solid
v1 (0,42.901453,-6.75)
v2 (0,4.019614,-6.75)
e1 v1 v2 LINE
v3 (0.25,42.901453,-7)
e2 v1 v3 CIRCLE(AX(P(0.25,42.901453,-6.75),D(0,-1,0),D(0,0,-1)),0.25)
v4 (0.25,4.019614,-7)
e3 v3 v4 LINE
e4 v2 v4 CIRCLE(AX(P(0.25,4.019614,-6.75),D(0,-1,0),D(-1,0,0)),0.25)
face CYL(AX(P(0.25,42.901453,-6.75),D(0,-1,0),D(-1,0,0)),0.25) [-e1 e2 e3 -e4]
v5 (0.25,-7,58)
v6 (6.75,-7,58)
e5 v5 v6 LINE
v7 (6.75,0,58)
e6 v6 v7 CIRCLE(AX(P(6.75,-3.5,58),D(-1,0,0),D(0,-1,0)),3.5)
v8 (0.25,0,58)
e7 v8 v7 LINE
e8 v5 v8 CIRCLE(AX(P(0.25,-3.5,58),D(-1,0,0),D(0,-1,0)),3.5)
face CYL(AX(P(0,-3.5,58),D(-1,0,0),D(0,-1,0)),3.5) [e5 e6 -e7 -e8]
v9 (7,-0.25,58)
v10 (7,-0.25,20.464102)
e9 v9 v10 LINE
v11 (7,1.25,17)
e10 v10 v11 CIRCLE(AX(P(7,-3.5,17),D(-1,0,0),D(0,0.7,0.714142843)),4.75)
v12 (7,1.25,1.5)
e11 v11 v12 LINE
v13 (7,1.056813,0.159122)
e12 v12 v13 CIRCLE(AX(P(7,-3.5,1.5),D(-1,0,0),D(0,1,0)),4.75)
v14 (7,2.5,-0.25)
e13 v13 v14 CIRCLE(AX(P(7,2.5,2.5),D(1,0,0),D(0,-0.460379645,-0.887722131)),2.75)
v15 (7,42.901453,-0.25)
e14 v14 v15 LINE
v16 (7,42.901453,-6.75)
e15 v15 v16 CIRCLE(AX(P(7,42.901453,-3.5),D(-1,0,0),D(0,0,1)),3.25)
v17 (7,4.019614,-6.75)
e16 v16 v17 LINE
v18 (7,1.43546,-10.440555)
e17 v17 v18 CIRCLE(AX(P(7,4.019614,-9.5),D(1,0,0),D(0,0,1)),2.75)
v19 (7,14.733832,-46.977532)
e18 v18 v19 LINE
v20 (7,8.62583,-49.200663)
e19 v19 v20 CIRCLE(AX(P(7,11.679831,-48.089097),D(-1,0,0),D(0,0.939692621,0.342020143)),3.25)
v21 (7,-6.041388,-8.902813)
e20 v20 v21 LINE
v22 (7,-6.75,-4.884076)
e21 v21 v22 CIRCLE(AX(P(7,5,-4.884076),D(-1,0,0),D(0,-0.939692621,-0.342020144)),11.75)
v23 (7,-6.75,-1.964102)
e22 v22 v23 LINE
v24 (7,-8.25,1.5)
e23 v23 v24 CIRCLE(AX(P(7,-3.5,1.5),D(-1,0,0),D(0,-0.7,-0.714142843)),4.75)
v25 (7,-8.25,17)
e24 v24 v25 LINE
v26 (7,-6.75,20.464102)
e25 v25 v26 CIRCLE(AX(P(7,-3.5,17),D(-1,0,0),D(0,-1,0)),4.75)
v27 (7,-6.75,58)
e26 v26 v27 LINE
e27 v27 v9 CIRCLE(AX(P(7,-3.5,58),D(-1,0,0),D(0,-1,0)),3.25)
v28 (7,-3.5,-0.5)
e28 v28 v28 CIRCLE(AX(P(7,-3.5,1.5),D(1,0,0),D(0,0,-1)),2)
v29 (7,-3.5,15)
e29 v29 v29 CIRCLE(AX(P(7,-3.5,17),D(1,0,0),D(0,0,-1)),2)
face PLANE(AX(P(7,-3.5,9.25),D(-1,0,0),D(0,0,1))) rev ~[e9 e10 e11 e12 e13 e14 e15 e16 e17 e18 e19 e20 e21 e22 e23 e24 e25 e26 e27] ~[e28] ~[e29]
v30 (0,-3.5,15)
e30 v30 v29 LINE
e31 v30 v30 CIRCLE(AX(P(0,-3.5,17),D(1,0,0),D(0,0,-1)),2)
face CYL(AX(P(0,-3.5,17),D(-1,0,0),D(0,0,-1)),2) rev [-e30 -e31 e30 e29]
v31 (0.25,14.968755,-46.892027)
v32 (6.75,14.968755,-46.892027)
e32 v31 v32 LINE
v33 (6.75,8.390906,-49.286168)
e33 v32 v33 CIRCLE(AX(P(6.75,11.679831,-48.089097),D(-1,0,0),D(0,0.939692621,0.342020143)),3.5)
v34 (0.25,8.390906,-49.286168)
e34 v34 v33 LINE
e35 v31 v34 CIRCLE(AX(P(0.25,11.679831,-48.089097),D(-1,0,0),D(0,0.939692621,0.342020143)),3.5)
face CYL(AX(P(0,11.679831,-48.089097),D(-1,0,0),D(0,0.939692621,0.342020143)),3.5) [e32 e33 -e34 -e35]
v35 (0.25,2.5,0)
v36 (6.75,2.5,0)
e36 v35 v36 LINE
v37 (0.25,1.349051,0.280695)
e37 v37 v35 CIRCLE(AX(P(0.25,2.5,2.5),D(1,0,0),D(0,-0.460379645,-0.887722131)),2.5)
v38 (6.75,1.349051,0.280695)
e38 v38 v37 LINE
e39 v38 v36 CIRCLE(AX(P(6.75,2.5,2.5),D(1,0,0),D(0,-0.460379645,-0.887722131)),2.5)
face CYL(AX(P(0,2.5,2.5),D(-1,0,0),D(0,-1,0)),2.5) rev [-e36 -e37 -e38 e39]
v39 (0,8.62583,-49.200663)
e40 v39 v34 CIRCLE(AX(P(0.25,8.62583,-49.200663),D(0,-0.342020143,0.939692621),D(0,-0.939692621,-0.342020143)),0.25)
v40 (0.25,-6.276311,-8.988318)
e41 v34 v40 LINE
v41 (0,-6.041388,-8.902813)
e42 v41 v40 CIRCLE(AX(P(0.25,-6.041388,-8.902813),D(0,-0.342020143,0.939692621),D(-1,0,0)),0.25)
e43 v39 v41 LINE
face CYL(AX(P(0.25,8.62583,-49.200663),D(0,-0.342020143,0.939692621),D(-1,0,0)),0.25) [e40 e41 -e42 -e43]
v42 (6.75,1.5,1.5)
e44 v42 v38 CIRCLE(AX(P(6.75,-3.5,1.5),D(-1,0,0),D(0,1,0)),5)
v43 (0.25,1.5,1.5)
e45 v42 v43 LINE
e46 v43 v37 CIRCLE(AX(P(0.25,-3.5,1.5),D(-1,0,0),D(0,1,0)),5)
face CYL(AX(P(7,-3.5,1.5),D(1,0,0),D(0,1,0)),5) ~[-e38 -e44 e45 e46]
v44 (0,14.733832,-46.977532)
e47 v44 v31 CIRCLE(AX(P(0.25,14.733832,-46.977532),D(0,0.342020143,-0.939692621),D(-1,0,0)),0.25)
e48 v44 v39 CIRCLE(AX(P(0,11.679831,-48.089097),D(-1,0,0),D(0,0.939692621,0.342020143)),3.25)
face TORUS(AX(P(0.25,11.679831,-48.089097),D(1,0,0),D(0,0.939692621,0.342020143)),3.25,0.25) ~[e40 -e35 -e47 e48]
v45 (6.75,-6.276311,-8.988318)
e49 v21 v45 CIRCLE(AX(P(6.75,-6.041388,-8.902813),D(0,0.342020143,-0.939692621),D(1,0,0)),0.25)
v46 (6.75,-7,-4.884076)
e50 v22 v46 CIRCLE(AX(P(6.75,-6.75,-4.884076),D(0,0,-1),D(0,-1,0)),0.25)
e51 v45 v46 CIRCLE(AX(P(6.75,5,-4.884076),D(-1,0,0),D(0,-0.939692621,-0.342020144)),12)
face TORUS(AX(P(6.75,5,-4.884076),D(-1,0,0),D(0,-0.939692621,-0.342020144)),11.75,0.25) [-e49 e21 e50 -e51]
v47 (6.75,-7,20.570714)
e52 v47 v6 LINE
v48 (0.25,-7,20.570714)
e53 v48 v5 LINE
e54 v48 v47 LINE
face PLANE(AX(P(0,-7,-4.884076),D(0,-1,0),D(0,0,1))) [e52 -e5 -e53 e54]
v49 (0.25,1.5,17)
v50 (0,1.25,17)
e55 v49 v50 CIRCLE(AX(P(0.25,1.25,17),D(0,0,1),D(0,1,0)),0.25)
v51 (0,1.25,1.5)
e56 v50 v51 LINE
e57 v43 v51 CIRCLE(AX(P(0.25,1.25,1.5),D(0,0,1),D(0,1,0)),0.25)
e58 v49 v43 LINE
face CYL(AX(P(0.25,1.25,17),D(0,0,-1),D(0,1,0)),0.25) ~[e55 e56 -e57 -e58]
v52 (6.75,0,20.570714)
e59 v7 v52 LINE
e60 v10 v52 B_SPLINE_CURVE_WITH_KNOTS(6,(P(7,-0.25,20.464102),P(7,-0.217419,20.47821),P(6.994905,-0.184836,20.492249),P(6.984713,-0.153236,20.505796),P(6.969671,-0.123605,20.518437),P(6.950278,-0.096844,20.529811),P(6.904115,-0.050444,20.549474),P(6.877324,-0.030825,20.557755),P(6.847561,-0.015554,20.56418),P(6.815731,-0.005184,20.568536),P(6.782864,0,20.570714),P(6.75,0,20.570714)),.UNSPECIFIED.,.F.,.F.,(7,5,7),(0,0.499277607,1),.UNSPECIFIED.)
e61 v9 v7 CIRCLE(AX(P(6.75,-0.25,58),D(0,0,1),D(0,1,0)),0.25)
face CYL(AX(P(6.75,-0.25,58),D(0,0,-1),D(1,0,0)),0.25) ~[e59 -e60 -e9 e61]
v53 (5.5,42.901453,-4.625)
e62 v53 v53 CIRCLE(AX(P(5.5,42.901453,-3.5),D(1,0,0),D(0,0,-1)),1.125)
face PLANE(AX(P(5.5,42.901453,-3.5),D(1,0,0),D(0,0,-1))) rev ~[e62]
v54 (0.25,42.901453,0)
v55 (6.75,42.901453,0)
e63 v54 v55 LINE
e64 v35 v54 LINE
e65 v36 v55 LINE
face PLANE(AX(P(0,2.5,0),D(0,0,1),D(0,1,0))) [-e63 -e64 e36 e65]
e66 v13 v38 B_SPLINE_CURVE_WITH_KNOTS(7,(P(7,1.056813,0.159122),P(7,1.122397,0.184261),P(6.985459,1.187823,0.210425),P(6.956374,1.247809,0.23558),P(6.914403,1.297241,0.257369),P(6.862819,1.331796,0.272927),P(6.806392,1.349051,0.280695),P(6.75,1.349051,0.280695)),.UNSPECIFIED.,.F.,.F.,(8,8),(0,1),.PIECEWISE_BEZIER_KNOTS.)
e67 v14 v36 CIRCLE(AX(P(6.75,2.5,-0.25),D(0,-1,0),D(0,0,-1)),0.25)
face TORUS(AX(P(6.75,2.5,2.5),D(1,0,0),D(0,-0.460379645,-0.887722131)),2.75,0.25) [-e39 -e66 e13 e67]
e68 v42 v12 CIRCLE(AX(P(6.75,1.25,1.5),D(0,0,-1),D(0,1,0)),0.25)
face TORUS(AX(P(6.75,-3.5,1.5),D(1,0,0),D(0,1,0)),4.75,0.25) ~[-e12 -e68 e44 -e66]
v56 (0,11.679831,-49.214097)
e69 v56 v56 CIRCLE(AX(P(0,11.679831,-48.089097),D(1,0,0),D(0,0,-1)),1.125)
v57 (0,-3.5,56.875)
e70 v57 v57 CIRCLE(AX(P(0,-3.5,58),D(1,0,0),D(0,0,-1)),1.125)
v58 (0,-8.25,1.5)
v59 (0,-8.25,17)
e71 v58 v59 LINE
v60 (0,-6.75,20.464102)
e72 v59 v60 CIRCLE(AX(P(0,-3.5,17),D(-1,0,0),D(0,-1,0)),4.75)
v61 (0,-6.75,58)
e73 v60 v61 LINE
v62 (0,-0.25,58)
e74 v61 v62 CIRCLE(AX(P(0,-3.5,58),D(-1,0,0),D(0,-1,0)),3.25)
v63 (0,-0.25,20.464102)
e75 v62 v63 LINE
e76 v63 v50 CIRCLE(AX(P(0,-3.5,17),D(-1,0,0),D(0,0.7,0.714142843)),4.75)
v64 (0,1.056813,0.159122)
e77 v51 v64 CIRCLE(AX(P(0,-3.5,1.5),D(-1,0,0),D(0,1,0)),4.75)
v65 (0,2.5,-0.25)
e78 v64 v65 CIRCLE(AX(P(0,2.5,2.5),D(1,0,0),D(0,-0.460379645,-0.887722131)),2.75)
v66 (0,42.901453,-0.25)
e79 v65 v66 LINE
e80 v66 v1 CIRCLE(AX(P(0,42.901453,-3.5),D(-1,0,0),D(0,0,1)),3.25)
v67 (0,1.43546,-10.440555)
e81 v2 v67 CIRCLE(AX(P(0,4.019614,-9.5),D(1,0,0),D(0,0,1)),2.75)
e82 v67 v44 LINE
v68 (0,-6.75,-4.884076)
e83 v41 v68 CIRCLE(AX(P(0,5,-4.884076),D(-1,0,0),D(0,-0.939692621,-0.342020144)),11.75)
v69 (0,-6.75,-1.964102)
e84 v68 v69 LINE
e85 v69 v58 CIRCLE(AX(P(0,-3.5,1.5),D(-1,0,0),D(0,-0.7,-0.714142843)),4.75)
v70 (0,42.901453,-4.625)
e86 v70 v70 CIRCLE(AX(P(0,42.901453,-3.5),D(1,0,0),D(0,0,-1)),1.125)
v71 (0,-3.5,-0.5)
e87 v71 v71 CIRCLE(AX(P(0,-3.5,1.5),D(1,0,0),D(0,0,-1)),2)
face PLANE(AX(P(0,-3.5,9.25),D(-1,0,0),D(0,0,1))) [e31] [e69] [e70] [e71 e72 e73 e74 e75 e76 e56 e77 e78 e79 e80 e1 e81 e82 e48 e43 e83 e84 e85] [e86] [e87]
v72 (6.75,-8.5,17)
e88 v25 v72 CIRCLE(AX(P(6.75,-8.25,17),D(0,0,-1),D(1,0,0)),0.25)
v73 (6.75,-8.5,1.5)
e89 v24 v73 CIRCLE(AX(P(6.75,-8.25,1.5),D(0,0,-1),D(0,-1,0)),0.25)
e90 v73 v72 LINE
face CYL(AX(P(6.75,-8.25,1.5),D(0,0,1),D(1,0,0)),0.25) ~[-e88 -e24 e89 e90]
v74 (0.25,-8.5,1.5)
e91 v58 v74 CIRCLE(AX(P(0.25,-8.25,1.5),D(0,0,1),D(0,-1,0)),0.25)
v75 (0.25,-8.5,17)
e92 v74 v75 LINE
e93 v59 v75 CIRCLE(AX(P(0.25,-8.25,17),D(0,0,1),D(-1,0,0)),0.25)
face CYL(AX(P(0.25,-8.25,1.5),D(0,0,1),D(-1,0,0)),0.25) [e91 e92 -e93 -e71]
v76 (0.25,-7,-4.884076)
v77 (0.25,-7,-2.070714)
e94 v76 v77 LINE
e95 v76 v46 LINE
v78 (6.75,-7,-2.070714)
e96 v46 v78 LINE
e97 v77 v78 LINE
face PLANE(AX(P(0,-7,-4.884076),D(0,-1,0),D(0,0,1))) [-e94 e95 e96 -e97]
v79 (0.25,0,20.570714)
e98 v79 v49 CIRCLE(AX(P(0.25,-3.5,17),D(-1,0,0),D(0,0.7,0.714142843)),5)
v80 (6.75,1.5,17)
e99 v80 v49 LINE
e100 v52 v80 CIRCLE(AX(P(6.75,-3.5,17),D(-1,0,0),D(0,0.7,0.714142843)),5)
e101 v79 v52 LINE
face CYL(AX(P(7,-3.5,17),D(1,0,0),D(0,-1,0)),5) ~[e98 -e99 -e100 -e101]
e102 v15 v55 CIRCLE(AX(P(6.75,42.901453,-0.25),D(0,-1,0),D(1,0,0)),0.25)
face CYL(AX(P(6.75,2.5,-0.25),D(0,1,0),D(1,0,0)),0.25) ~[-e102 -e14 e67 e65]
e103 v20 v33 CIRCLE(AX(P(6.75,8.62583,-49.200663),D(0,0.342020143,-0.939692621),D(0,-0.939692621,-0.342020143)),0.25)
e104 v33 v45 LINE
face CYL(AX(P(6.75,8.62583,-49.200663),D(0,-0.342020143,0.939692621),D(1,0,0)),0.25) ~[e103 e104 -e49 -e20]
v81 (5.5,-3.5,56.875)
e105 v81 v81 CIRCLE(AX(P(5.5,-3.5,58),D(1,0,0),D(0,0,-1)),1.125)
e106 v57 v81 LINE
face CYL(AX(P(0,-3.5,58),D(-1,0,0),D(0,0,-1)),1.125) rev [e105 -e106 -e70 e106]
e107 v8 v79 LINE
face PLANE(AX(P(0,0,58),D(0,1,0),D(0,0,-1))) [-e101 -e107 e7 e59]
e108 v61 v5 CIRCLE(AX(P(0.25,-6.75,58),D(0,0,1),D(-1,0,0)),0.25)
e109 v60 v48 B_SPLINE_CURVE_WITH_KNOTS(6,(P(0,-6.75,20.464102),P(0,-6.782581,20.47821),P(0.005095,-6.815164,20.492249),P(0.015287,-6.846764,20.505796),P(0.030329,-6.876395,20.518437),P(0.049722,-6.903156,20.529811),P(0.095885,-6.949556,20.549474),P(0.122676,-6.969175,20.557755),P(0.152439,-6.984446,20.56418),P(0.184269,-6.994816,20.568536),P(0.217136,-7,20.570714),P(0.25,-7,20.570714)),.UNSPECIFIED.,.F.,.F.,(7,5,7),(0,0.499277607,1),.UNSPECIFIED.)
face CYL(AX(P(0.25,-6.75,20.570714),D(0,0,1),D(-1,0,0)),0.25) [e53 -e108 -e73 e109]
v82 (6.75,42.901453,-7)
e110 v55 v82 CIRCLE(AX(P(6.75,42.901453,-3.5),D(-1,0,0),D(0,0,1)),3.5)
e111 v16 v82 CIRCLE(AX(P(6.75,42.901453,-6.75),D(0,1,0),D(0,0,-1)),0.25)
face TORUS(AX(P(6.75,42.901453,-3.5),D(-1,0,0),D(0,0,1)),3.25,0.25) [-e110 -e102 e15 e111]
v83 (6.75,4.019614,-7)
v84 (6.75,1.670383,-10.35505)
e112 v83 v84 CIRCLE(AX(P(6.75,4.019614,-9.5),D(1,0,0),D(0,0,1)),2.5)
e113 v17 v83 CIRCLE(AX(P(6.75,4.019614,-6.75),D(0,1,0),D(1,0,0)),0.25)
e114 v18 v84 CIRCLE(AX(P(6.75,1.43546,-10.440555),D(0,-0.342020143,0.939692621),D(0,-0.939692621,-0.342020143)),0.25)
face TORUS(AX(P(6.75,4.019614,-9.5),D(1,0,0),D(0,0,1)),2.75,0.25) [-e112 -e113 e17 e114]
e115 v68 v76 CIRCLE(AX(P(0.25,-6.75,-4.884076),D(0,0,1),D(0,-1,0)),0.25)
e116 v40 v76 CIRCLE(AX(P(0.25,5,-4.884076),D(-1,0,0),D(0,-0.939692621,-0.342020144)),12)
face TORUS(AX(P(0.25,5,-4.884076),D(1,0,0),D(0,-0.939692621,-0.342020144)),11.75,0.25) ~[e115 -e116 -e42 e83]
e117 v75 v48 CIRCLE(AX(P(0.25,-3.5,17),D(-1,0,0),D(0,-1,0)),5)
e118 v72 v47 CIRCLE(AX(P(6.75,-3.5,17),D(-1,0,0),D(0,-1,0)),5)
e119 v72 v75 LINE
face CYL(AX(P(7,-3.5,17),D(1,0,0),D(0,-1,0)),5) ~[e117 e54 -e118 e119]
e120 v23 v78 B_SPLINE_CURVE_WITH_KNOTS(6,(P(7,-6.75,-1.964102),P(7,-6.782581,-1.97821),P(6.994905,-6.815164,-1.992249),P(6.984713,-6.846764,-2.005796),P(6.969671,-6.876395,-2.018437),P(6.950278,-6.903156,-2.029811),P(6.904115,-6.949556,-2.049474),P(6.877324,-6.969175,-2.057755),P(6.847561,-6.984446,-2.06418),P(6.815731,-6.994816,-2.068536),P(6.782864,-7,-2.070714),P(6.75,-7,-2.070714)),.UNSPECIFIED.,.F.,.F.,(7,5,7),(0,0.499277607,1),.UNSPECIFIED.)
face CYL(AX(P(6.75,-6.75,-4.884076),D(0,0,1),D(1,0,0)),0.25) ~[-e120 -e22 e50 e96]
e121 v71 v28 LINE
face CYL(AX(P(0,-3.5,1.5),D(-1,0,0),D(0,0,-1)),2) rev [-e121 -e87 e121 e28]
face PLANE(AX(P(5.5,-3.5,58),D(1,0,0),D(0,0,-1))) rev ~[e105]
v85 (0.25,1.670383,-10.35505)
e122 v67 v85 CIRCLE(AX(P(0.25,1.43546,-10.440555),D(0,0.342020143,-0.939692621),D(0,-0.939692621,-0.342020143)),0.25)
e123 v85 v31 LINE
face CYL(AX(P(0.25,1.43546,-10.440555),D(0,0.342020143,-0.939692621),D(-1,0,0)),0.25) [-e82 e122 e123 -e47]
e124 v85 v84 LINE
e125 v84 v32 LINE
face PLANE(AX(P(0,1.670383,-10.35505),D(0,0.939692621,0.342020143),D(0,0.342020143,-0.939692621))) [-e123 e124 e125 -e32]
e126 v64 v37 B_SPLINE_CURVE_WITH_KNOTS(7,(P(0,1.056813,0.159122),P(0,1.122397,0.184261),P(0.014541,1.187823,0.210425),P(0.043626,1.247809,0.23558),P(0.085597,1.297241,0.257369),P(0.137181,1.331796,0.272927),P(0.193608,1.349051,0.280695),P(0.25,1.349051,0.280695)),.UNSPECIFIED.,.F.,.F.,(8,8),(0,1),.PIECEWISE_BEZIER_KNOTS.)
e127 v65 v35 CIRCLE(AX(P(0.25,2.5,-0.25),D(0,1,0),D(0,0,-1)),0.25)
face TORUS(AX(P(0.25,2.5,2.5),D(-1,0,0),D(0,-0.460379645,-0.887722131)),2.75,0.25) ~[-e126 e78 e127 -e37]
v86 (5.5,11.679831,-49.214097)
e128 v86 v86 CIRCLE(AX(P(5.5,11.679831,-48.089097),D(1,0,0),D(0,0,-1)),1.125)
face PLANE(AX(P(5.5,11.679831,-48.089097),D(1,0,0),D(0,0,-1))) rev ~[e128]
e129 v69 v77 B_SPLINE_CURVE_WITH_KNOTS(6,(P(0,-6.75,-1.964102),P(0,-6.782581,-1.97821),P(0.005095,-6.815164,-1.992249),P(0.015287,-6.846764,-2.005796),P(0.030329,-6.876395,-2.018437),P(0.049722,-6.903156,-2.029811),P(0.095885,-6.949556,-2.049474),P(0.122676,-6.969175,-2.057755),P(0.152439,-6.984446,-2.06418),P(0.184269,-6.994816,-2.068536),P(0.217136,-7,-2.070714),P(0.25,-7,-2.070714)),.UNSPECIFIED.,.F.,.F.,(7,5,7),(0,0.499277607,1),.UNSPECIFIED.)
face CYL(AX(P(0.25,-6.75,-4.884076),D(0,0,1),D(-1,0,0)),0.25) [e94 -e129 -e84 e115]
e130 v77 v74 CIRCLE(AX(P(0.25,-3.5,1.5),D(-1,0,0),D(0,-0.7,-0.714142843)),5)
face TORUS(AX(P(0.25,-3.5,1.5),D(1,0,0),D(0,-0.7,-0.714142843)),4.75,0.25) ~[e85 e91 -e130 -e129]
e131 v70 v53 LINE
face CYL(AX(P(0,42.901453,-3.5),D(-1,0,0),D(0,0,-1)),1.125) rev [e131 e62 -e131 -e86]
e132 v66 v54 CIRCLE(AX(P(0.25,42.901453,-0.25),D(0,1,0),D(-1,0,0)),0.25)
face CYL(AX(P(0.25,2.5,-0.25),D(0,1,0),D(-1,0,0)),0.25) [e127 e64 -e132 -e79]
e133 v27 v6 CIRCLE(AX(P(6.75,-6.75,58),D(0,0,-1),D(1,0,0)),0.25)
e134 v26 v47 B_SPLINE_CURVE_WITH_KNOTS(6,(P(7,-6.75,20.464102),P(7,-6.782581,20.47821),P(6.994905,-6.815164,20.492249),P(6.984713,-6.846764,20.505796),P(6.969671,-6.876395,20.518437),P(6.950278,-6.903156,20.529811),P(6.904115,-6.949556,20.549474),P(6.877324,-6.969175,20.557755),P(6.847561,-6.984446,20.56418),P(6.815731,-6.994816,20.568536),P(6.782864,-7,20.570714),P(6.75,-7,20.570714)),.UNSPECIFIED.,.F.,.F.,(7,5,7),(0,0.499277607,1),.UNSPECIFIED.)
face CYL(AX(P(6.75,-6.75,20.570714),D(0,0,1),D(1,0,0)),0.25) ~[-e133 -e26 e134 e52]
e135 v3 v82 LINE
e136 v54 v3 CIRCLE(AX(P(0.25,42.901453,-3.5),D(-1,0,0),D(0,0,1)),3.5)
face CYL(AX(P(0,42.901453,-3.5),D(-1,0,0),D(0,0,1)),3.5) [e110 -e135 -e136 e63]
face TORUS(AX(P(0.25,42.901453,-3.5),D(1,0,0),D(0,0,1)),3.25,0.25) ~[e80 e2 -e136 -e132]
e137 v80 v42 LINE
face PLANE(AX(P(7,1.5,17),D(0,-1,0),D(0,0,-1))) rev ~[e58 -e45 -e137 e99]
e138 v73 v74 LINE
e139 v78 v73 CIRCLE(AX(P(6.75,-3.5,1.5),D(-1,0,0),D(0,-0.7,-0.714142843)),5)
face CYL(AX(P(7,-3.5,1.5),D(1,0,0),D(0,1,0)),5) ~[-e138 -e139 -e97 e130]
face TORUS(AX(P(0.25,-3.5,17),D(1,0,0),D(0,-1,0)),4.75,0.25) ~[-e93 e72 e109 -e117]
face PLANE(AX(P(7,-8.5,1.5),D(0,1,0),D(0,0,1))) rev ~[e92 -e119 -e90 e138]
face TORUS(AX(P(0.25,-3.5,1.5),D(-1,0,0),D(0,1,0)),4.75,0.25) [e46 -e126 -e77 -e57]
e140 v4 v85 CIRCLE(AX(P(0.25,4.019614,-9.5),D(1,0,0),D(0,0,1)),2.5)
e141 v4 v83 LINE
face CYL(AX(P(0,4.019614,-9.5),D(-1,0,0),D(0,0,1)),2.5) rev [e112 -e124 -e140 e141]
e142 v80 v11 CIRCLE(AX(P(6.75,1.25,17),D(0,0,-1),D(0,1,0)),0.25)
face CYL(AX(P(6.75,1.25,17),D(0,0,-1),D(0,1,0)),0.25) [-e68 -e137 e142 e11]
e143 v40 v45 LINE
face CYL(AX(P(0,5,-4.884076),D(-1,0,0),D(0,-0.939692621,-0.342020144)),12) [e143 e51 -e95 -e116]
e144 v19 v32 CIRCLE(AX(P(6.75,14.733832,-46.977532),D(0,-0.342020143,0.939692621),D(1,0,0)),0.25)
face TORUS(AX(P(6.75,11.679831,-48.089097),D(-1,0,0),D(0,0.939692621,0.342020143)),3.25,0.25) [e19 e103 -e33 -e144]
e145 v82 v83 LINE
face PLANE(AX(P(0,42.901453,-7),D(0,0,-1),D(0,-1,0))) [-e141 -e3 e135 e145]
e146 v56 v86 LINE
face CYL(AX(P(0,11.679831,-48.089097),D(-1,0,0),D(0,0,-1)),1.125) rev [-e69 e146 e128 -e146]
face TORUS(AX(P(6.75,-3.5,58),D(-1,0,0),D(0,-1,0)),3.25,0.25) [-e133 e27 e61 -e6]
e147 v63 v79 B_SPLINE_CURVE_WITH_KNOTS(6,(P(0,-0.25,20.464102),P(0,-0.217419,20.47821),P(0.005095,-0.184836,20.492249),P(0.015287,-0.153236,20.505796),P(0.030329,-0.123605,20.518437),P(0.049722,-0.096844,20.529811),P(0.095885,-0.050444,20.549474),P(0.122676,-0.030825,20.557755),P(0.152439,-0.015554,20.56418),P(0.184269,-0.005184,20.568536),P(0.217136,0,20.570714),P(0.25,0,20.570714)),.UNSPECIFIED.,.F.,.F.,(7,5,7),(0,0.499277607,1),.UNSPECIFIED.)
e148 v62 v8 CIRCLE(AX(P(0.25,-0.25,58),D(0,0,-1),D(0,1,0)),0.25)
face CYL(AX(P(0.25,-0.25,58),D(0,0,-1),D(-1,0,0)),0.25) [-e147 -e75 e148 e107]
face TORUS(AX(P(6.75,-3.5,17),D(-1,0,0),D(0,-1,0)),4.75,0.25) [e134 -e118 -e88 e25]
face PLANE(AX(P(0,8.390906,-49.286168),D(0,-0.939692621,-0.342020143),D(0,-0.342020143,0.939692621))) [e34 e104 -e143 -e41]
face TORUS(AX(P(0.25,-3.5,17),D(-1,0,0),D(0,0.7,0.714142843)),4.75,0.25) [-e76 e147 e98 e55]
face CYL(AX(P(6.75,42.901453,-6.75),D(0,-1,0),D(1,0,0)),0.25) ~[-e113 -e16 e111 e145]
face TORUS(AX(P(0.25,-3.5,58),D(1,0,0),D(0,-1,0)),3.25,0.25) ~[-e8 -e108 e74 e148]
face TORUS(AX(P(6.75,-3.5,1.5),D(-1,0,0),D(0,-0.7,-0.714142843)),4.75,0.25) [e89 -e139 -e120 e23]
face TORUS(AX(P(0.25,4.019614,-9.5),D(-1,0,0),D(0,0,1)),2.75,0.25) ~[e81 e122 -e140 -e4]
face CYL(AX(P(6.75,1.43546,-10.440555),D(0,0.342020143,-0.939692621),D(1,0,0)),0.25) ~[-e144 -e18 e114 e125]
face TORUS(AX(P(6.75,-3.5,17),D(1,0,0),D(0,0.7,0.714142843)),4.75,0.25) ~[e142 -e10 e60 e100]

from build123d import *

# Parameters (mm, degrees)
BOSS_EXTRUDE1_DEPTH = 7
BOSS_EXTRUDE2_DEPTH = 7
FILLET1_R           = 0.25
SKETCH4_R           = 2
CUT_EXTRUDE2_DEPTH  = 7
SKETCH3_R           = 1.125
CUT_EXTRUDE1_DEPTH  = 5.5


with BuildPart() as part:
    # Sketch1 → Boss-Extrude1 (new body)
    with BuildSketch(Plane(origin=(0, 0, 0), x_dir=(0, 0, -1), z_dir=(1, 0, 0))):
        with BuildLine():
            Line((-58, 0), (-2.5, 0))
            ThreePointArc((-2.5, 0), (-0.732233047, 0.732233047), (0, 2.5))
            Line((0, 2.5), (0, 42.901452767))
            ThreePointArc((0, 42.901452767), (3.5, 46.401452767), (7, 42.901452767))
            Line((7, 42.901452767), (7, 4.019614424))
            ThreePointArc((7, 4.019614424), (8.066058909, 1.971734313), (10.355050358, 1.670382872))
            Line((10.355050358, 1.670382872), (46.892026932, 14.968754795))
            ThreePointArc((46.892026932, 14.968754795), (51.378021606, 12.876901124), (49.286167935, 8.39090645))
            Line((49.286167935, 8.39090645), (8.988317951, -6.276311449))
            ThreePointArc((8.988317951, -6.276311449), (6.967854364, -6.817693036), (4.884076231, -7))
            Line((4.884076231, -7), (-58, -7))
            ThreePointArc((-58, -7), (-61.5, -3.5), (-58, 0))
        make_face()
    extrude(amount=BOSS_EXTRUDE1_DEPTH)

    # Sketch2 → Boss-Extrude2 (add)
    with BuildSketch(Plane(origin=(7, 0, 0), x_dir=(0, 0, -1), z_dir=(1, 0, 0))):
        with BuildLine():
            Line((-17, 1.5), (-1.5, 1.5))
            ThreePointArc((-1.5, 1.5), (3.5, -3.5), (-1.5, -8.5))
            Line((-1.5, -8.5), (-17, -8.5))
            ThreePointArc((-17, -8.5), (-22, -3.5), (-17, 1.5))
        make_face()
    extrude(amount=-BOSS_EXTRUDE2_DEPTH)

    # Fillet1
    fillet1_edges = [part.edges().sort_by_distance(p)[0] for p in [
        (7, -6.817693036, -6.967854364),
        (0, 1.907658596, 0.071187191),
        (0, 22.700726384, 0),
        (0, 46.401452767, -3.5),
        (0, 23.460533596, -7),
        (0, 1.971734313, -8.066058909),
        (7, 1.0572975, -29.137242943),
        (0, 8.319568834, -28.623538645),
        (0, 12.876901124, -51.378021606),
        (0, 1.0572975, -29.137242943),
        (0, -6.817693036, -6.967854364),
        (0, -7, 39.285357107),
        (0, -3.5, 61.5),
        (7, 12.876901124, -51.378021606),
        (7, 8.319568834, -28.623538645),
        (7, 1.971734313, -8.066058909),
        (7, 23.460533596, -7),
        (7, 46.401452767, -3.5),
        (7, 22.700726384, 0),
        (7, 1.907658596, 0.071187191),
        (0, 0, 39.285357107),
        (0, -7, -3.477395223),
        (7, -7, -3.477395223),
        (7, 0, 39.285357107),
        (7, -3.5, 61.5),
        (7, -8.109772229, 18.936491673),
        (7, -8.5, 9.25),
        (7, -8.109772229, -0.436491673),
        (7, 1.462119227, 0.885693253),
        (7, 1.5, 9.25),
        (7, 1.109772229, 18.936491673),
        (0, -8.109772229, 18.936491673),
        (0, -8.109772229, -0.436491673),
        (0, -8.5, 9.25),
        (0, 1.462119227, 0.885693253),
        (0, 1.109772229, 18.936491673),
        (0, 1.5, 9.25),
        (7, -7, 39.285357107),
    ]]
    fillet(fillet1_edges, radius=FILLET1_R)

    # Sketch4 → Cut-Extrude2 (cut)
    with BuildSketch(Plane(origin=(0, 0, 0), x_dir=(0, 0, -1), z_dir=(1, 0, 0))):
        with Locations((-17, -3.5)):
            Circle(SKETCH4_R)
        with Locations((-1.5, -3.5)):
            Circle(SKETCH4_R)
    extrude(amount=CUT_EXTRUDE2_DEPTH, mode=Mode.SUBTRACT)

    # Sketch3 → Cut-Extrude1 (cut)
    with BuildSketch(Plane(origin=(0, 0, 0), x_dir=(0, 0, -1), z_dir=(1, 0, 0))):
        with Locations((3.5, 42.901452767)):
            Circle(SKETCH3_R)
        with Locations((48.089097434, 11.679830622)):
            Circle(SKETCH3_R)
        with Locations((-58, -3.5)):
            Circle(SKETCH3_R)
    extrude(amount=CUT_EXTRUDE1_DEPTH, mode=Mode.SUBTRACT)


solid = part.part
